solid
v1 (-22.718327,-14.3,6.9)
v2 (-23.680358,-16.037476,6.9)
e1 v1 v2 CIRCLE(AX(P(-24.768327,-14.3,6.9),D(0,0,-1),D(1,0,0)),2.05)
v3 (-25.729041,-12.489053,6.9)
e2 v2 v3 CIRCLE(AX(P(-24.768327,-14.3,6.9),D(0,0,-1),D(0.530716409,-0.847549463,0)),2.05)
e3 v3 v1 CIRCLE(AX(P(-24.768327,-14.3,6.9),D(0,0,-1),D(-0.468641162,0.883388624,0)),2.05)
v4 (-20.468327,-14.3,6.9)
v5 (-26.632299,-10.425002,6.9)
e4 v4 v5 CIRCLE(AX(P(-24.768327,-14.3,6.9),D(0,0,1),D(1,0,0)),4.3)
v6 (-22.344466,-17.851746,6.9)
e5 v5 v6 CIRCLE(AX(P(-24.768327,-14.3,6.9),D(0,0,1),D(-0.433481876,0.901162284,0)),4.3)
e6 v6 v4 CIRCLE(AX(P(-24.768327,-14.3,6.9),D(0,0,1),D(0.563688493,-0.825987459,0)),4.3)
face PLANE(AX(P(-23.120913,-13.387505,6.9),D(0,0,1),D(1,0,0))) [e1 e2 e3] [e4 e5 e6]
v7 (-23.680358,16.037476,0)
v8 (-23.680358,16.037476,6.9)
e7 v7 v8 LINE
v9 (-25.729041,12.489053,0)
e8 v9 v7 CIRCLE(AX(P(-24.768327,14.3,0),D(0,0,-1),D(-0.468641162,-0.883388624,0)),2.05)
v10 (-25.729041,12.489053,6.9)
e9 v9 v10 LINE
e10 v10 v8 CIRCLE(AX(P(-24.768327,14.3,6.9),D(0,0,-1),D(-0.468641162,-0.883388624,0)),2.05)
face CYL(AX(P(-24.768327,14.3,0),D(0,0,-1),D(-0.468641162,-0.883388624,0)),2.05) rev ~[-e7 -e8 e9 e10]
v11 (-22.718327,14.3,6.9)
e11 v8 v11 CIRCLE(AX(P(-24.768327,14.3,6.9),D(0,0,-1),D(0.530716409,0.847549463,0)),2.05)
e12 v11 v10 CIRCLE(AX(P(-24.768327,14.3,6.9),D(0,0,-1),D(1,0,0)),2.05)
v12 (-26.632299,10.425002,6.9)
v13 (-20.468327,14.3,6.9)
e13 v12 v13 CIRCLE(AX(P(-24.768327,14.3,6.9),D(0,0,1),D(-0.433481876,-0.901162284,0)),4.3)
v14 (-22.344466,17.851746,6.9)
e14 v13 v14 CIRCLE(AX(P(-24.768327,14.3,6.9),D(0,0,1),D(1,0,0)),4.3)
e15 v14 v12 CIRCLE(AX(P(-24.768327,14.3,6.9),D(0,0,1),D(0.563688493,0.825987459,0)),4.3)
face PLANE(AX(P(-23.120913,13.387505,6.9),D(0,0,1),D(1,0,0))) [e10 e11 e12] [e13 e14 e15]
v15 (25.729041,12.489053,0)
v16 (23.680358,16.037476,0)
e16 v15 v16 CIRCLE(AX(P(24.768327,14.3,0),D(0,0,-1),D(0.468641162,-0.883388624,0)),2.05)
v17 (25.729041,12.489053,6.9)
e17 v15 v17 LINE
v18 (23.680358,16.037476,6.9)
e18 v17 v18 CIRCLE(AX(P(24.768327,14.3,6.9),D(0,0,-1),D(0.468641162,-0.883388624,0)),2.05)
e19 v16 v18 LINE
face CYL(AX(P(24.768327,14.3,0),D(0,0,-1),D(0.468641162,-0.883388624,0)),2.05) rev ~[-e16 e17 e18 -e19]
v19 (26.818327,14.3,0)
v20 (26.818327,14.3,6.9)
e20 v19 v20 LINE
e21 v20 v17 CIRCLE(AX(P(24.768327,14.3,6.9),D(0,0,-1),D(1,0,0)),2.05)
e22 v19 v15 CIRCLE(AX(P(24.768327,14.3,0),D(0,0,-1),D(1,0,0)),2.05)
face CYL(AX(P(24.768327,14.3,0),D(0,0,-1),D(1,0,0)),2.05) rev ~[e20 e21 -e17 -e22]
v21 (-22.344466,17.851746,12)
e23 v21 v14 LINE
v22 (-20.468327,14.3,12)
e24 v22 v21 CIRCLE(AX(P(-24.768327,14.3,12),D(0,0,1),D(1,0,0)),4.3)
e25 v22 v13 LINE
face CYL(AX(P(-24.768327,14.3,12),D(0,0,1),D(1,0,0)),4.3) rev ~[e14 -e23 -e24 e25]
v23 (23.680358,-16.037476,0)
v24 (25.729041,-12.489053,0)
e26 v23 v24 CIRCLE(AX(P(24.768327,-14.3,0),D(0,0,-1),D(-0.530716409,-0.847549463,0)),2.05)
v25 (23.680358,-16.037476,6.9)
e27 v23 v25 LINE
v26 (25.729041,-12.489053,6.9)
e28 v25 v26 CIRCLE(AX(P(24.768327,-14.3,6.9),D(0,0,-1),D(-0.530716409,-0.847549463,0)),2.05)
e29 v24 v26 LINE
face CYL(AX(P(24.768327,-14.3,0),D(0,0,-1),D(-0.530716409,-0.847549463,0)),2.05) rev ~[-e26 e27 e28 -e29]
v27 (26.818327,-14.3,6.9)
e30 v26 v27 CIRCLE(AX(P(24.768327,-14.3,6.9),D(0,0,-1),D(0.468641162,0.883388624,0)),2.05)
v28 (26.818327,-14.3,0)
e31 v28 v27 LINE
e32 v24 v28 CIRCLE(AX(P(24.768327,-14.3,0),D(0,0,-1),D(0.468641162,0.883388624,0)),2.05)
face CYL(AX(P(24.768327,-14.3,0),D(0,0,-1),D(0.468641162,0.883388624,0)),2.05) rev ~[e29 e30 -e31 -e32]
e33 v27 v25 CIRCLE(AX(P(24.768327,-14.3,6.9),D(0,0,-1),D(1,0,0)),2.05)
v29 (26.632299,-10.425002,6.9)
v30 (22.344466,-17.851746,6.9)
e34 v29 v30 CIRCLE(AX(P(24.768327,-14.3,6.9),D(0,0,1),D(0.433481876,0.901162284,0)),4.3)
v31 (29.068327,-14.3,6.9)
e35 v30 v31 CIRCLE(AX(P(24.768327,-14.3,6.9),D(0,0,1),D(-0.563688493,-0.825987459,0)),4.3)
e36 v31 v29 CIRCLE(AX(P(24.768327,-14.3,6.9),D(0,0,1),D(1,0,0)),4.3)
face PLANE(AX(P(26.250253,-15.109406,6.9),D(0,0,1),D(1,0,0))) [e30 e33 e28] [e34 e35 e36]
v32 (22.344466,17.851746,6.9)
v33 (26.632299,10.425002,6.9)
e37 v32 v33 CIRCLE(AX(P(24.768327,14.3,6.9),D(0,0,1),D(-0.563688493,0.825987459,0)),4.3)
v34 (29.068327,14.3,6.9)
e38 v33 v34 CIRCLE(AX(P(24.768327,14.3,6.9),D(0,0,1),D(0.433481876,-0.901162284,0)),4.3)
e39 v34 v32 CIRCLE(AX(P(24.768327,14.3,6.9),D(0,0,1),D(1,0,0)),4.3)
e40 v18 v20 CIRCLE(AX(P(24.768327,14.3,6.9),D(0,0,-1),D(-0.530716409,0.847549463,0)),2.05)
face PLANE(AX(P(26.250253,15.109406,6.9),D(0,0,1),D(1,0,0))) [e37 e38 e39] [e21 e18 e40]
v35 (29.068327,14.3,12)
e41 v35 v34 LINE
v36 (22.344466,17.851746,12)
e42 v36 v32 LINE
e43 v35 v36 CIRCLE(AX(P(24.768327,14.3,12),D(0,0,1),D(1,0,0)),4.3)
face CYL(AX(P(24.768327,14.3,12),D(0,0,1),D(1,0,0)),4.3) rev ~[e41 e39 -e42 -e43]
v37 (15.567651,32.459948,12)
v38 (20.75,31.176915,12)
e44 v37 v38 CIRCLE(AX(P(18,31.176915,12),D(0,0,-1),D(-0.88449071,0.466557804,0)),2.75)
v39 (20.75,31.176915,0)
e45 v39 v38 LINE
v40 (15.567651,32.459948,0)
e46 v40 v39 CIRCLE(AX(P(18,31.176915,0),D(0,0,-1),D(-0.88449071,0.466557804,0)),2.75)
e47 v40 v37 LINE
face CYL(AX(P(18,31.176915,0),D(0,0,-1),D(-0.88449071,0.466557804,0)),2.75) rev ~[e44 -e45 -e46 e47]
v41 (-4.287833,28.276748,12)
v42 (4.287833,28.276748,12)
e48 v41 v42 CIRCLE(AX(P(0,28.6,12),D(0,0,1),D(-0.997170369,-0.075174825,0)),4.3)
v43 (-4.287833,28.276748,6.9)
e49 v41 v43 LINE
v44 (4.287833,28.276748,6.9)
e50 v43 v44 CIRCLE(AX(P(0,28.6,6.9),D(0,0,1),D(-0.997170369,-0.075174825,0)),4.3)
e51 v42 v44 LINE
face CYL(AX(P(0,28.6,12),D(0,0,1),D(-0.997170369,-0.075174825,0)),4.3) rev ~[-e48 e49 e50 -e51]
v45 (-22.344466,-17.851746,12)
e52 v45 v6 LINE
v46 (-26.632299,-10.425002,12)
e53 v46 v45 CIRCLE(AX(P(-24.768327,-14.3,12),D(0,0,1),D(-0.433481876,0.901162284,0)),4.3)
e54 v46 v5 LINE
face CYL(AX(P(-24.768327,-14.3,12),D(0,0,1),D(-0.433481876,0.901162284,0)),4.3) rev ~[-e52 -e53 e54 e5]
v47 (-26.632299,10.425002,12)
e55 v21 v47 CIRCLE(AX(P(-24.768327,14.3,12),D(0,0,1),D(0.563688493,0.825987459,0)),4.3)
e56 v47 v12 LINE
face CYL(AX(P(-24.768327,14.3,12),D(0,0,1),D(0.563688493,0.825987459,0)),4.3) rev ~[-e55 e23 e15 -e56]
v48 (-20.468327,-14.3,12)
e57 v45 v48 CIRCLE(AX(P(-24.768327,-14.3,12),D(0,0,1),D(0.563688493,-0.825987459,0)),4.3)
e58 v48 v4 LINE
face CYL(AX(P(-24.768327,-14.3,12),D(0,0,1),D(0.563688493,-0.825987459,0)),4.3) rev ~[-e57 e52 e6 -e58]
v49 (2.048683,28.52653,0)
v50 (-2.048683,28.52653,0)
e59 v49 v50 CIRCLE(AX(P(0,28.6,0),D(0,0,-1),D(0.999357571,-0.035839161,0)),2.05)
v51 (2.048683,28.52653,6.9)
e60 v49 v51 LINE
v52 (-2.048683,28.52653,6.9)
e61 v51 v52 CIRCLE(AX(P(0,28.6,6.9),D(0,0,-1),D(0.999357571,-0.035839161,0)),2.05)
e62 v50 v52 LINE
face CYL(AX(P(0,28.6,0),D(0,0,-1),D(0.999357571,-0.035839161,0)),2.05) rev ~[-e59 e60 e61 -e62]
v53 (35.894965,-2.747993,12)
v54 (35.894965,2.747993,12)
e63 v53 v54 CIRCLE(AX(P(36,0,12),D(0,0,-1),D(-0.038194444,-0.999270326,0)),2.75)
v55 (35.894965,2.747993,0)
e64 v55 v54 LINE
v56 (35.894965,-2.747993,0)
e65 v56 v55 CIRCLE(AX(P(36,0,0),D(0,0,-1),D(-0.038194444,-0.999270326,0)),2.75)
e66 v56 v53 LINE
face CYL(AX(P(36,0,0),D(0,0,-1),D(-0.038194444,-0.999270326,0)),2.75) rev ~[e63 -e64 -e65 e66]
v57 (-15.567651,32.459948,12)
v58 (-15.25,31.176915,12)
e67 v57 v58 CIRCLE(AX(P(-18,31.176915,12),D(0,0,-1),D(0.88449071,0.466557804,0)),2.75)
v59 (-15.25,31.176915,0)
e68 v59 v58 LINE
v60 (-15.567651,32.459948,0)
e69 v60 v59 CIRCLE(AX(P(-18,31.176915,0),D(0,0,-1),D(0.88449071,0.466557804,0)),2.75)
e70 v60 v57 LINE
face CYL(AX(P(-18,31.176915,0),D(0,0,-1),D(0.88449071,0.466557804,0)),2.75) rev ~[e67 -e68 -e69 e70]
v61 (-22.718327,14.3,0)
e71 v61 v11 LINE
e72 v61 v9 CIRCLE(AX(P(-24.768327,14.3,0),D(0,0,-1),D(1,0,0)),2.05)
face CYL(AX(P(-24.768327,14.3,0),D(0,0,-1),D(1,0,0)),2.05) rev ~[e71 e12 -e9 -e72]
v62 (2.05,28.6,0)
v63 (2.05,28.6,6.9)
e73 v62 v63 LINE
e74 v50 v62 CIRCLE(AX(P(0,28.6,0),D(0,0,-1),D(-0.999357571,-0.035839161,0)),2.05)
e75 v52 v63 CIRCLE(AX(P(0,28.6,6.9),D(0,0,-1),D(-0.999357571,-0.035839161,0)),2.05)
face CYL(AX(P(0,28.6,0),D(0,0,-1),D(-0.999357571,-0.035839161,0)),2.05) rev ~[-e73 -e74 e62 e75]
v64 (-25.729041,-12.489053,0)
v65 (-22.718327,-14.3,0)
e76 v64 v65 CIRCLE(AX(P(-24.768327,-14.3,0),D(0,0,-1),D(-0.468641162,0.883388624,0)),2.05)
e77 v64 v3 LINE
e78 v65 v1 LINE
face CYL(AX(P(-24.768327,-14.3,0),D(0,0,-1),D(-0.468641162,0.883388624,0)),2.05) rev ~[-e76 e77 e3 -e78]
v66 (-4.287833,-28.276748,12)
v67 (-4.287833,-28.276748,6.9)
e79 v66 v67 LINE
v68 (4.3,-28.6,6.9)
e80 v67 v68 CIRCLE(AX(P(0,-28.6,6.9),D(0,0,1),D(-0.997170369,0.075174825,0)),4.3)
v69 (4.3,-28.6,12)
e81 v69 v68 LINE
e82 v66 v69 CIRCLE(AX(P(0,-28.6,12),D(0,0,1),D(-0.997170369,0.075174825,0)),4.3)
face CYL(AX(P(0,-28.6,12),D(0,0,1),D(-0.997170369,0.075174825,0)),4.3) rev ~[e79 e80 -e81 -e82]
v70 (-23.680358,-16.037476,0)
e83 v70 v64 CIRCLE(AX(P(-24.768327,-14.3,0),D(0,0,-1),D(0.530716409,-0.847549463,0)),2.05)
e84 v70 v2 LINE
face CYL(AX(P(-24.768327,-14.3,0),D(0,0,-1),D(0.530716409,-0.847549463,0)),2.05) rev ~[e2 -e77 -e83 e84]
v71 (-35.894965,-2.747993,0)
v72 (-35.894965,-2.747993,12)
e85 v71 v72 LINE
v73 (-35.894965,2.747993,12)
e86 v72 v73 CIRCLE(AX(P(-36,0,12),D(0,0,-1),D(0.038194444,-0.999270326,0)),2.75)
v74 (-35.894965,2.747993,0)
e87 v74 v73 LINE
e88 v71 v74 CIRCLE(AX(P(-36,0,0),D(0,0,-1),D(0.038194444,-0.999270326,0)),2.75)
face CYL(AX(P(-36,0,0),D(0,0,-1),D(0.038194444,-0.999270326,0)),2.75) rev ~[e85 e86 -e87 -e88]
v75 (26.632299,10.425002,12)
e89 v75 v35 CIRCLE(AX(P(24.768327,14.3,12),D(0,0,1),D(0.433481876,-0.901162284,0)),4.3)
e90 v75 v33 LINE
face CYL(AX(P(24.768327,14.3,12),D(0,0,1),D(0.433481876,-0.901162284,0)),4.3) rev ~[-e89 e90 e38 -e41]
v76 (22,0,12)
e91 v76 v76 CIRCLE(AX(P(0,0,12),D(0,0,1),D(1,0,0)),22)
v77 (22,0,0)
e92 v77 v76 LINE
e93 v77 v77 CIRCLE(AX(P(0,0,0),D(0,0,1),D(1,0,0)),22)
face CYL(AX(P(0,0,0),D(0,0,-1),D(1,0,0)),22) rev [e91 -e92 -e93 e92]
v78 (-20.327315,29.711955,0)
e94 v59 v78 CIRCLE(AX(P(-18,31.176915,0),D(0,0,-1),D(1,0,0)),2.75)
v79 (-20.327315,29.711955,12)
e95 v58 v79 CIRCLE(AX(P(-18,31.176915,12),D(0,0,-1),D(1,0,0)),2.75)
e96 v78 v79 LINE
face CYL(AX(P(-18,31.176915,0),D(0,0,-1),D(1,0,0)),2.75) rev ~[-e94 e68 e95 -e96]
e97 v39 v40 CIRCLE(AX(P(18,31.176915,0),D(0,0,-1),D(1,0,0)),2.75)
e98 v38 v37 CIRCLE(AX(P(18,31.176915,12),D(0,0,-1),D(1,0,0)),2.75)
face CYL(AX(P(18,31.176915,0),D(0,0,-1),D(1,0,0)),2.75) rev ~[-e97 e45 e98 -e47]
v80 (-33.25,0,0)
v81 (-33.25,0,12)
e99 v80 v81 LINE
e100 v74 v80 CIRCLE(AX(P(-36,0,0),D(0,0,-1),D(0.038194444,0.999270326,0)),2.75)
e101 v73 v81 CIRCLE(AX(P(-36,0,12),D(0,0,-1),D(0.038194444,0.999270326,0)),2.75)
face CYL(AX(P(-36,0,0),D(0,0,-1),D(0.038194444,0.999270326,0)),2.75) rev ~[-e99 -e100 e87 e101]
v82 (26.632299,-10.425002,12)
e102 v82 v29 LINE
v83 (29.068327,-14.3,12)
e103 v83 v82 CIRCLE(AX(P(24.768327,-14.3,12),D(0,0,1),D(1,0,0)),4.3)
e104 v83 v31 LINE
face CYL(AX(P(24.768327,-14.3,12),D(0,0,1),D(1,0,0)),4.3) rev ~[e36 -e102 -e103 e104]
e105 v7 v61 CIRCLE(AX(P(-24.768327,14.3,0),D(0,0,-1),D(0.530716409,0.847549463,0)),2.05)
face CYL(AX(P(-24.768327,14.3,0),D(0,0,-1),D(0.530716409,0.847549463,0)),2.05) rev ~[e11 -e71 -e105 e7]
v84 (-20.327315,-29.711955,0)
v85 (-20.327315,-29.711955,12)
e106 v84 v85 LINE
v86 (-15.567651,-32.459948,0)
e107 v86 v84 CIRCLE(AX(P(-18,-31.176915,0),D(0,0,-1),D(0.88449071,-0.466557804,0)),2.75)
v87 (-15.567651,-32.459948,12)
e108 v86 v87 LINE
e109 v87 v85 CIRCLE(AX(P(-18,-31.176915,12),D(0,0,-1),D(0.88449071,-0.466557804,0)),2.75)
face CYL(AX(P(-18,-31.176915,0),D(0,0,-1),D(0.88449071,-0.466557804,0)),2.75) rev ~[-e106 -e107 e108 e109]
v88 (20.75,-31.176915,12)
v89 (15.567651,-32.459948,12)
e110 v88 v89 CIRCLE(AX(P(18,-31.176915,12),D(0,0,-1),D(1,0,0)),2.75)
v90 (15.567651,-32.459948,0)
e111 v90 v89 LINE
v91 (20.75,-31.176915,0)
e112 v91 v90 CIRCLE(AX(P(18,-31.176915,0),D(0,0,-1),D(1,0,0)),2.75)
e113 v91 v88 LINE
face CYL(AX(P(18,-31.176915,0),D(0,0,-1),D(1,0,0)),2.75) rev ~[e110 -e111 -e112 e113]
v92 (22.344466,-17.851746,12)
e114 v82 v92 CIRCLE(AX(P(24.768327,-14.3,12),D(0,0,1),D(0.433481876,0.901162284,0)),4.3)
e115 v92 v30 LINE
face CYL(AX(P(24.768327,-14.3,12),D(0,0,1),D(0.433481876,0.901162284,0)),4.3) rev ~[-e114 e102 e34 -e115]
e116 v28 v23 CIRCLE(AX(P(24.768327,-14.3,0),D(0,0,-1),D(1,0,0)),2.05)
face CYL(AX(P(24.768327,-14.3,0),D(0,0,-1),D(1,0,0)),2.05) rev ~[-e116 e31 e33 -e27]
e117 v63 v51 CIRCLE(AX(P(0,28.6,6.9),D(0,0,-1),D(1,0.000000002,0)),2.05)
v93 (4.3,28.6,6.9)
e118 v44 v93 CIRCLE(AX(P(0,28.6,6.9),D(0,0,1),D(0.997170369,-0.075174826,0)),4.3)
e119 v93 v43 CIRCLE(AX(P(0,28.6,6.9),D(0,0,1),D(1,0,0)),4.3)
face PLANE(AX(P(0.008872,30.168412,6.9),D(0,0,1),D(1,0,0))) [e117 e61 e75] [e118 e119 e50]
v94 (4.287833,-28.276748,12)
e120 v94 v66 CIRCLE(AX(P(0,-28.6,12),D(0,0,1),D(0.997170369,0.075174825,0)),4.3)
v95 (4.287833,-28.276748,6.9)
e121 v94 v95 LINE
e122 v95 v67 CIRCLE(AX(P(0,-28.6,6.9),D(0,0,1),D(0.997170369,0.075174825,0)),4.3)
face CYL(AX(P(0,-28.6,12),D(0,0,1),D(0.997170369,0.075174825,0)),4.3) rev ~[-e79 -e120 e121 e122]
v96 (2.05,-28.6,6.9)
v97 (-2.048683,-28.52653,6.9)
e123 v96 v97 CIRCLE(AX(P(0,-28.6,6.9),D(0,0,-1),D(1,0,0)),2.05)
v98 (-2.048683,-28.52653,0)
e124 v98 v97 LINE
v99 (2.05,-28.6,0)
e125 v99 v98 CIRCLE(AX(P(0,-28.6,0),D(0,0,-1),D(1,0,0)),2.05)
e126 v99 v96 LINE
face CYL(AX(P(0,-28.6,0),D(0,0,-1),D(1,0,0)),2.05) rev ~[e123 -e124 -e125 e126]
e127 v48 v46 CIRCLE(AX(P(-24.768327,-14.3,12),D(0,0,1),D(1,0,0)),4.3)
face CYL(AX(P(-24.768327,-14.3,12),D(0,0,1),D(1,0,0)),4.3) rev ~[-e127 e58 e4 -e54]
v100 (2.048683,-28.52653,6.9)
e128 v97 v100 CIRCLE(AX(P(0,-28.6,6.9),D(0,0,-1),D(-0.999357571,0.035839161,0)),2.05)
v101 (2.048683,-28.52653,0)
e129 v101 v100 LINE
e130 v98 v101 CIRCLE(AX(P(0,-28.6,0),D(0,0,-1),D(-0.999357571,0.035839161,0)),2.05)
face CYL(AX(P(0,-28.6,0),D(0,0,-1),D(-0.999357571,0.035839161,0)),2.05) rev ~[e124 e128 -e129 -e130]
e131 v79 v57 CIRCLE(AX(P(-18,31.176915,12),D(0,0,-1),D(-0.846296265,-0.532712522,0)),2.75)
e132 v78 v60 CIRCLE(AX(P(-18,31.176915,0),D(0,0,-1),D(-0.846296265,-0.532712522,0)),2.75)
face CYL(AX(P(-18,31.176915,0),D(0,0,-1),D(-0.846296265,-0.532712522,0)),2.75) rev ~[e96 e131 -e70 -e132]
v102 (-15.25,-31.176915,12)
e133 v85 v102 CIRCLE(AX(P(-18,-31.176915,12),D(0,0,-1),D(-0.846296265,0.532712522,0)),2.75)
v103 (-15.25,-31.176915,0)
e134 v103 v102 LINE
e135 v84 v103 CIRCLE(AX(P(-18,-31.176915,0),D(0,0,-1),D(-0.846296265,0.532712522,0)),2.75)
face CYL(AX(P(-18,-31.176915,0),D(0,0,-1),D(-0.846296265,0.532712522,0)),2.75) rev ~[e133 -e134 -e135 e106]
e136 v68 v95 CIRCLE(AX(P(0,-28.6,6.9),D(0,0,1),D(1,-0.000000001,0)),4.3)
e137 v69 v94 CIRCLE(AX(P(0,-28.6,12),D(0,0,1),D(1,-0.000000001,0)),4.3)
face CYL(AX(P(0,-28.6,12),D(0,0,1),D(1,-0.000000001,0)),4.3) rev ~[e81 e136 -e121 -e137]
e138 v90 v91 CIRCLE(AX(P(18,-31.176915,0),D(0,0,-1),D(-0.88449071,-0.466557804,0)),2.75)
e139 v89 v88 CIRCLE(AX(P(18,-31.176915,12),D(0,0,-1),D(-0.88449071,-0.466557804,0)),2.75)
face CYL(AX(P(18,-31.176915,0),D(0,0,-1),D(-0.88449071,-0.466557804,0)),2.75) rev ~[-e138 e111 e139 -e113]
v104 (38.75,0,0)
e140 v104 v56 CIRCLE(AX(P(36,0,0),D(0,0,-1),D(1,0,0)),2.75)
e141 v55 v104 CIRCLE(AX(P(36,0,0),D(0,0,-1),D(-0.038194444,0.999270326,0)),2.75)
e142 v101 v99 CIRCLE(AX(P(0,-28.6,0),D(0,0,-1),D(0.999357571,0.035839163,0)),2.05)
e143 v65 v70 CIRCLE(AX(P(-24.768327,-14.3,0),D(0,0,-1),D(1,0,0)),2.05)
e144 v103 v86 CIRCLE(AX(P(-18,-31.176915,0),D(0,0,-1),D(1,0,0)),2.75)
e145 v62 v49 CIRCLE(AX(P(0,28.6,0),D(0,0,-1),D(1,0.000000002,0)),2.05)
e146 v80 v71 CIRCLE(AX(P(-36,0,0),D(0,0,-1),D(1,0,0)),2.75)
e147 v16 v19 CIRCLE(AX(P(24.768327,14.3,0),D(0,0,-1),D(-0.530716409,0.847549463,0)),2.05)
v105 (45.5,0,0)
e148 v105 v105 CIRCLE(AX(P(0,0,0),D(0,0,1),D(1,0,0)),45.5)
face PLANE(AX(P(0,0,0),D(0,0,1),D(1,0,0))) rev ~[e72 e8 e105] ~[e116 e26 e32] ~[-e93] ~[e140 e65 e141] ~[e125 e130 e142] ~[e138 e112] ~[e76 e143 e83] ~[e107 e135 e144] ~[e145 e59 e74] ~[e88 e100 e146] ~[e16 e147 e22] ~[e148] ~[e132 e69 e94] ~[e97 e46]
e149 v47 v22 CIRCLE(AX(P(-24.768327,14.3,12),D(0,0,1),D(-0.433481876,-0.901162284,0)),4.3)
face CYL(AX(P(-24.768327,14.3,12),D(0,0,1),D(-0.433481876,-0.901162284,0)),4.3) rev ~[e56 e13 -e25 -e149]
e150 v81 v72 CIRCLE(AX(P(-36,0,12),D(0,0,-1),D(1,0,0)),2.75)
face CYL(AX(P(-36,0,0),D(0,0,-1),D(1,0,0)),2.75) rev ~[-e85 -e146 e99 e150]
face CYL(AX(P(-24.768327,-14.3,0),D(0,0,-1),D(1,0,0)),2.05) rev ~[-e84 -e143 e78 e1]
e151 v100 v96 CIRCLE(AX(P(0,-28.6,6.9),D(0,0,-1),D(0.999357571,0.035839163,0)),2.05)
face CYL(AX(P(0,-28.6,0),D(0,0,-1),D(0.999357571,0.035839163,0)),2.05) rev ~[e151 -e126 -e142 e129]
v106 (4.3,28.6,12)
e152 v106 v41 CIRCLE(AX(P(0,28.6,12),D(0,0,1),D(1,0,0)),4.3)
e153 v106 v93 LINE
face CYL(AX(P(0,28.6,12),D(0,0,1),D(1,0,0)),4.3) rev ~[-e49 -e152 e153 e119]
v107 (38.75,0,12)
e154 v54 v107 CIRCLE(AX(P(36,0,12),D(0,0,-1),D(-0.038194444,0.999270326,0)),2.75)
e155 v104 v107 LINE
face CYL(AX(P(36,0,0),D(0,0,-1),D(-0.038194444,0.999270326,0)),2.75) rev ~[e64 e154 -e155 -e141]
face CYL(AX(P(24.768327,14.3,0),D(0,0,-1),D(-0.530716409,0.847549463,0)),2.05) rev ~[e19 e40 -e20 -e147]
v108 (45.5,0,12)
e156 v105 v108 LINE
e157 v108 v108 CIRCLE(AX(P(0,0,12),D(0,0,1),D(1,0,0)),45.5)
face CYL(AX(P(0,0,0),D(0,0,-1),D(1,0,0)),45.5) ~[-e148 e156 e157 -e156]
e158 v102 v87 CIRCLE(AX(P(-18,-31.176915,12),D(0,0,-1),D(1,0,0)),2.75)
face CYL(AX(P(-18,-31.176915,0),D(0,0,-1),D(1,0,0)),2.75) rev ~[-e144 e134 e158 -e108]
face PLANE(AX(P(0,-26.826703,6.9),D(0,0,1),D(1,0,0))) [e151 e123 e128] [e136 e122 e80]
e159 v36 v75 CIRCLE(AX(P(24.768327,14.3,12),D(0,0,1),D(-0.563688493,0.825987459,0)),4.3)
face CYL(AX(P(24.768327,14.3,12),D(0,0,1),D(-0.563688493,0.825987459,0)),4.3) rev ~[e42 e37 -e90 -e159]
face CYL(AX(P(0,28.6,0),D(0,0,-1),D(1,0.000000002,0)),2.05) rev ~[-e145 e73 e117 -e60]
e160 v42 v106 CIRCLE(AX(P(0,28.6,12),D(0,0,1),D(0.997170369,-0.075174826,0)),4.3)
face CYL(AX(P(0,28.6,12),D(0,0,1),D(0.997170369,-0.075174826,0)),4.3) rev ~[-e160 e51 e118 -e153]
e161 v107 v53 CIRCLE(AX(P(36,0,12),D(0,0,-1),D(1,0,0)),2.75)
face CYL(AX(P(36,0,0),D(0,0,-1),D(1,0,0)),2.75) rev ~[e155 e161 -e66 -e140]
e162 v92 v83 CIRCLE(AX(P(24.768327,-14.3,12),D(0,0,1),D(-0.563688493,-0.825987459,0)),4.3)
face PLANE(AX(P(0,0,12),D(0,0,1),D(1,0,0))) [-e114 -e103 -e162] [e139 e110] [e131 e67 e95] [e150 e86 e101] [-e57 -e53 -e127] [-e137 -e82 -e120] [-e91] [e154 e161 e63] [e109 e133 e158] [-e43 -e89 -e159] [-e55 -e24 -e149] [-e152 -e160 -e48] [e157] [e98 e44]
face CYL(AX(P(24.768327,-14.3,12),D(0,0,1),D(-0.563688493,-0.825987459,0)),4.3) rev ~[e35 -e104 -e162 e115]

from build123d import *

# Parameters (mm, degrees)
F0_R     = 45.5
F0_R_2   = 22
F1_DEPTH = 12
F3_DEPTH = 5.1


with BuildPart() as f1:
    # F0 (on Top) → F1 (new body)
    with BuildSketch(Plane.XY):
        Circle(F0_R)
        with BuildLine():
            ThreePointArc((20.3273147297, 29.7119551003), (31.1769145362, 18), (35.8949652778, 2.7479933965))
            ThreePointArc((35.8949652778, 2.7479933965), (37.907046737, 1.9813310534), (38.75, 0))
            ThreePointArc((38.75, 0), (37.907046737, -1.9813310534), (35.8949652778, -2.7479933965))
            ThreePointArc((35.8949652778, -2.7479933965), (31.1769145362, -18), (20.3273147297, -29.7119551003))
            ThreePointArc((20.3273147297, -29.7119551003), (20.6422164471, -30.4145548792), (20.75, -31.1769145362))
            ThreePointArc((20.75, -31.1769145362), (18.6608853937, -33.8463209302), (15.5676505481, -32.4599484968))
            ThreePointArc((15.5676505481, -32.4599484968), (0, -36), (-15.5676505481, -32.4599484968))
            ThreePointArc((-15.5676505481, -32.4599484968), (-19.375, -33.5584843966), (-20.3273147297, -29.7119551003))
            ThreePointArc((-20.3273147297, -29.7119551003), (-31.1769145362, -18), (-35.8949652778, -2.7479933965))
            ThreePointArc((-35.8949652778, -2.7479933965), (-38.75, 0), (-35.8949652778, 2.7479933965))
            ThreePointArc((-35.8949652778, 2.7479933965), (-31.1769145362, 18), (-20.3273147297, 29.7119551003))
            ThreePointArc((-20.3273147297, 29.7119551003), (-19.375, 33.5584843966), (-15.5676505481, 32.4599484968))
            ThreePointArc((-15.5676505481, 32.4599484968), (0, 36), (15.5676505481, 32.4599484968))
            ThreePointArc((15.5676505481, 32.4599484968), (18.6608853937, 33.8463209302), (20.75, 31.1769145362))
            ThreePointArc((20.75, 31.1769145362), (20.6422164471, 30.4145548792), (20.3273147297, 29.7119551003))
        make_face(mode=Mode.SUBTRACT)
        with BuildLine():
            ThreePointArc((35.8949652778, -2.7479933965), (33.25, 0), (35.8949652778, 2.7479933965))
            ThreePointArc((35.8949652778, 2.7479933965), (31.1769145362, 18), (20.3273147297, 29.7119551003))
            ThreePointArc((20.3273147297, 29.7119551003), (16.625, 28.7953446758), (15.5676505481, 32.4599484968))
            ThreePointArc((15.5676505481, 32.4599484968), (0, 36), (-15.5676505481, 32.4599484968))
            ThreePointArc((-15.5676505481, 32.4599484968), (-15.330593606, 31.83779993), (-15.25, 31.1769145362))
            ThreePointArc((-15.25, 31.1769145362), (-17.237640343, 28.5346980891), (-20.3273147297, 29.7119551003))
            ThreePointArc((-20.3273147297, 29.7119551003), (-31.1769145362, 18), (-35.8949652778, 2.7479933965))
            ThreePointArc((-35.8949652778, 2.7479933965), (-34.0186689466, 1.907046737), (-33.25, 0))
            ThreePointArc((-33.25, 0), (-34.0186689466, -1.907046737), (-35.8949652778, -2.7479933965))
            ThreePointArc((-35.8949652778, -2.7479933965), (-31.1769145362, -18), (-20.3273147297, -29.7119551003))
            ThreePointArc((-20.3273147297, -29.7119551003), (-17.237640343, -28.5346980891), (-15.25, -31.1769145362))
            ThreePointArc((-15.25, -31.1769145362), (-15.330593606, -31.83779993), (-15.5676505481, -32.4599484968))
            ThreePointArc((-15.5676505481, -32.4599484968), (0, -36), (15.5676505481, -32.4599484968))
            ThreePointArc((15.5676505481, -32.4599484968), (16.625, -28.7953446758), (20.3273147297, -29.7119551003))
            ThreePointArc((20.3273147297, -29.7119551003), (31.1769145362, -18), (35.8949652778, -2.7479933965))
        make_face()
        with BuildLine():
            ThreePointArc((25.7290409298, 12.4890533202), (27.8730207422, 6.4073953136), (28.6, 0))
            ThreePointArc((28.6, 0), (27.8730207422, -6.4073953136), (25.7290409298, -12.4890533202))
            ThreePointArc((25.7290409298, -12.4890533202), (26.525022948, -13.2433459606), (26.8183265482, -14.3))
            ThreePointArc((26.8183265482, -14.3), (25.7613432375, -16.093437441), (23.6803579094, -16.0374764001))
            ThreePointArc((23.6803579094, -16.0374764001), (14.3, -24.7683265482), (2.0486830204, -28.5265297203))
            ThreePointArc((2.0486830204, -28.5265297203), (2.0496707287, -28.5632589588), (2.05, -28.6))
            ThreePointArc((2.05, -28.6), (-0.0367410412, -30.6496707287), (-2.0486830204, -28.5265297203))
            ThreePointArc((-2.0486830204, -28.5265297203), (-14.3, -24.7683265482), (-23.6803579094, -16.0374764001))
            ThreePointArc((-23.6803579094, -16.0374764001), (-26.543678626, -15.325), (-25.7290409298, -12.4890533202))
            ThreePointArc((-25.7290409298, -12.4890533202), (-28.6, 0), (-25.7290409298, 12.4890533202))
            ThreePointArc((-25.7290409298, 12.4890533202), (-26.543678626, 15.325), (-23.6803579094, 16.0374764001))
            ThreePointArc((-23.6803579094, 16.0374764001), (-14.3, 24.7683265482), (-2.0486830204, 28.5265297203))
            ThreePointArc((-2.0486830204, 28.5265297203), (-0.0367410412, 30.6496707287), (2.05, 28.6))
            ThreePointArc((2.05, 28.6), (2.0496707287, 28.5632589588), (2.0486830204, 28.5265297203))
            ThreePointArc((2.0486830204, 28.5265297203), (14.3, 24.7683265482), (23.6803579094, 16.0374764001))
            ThreePointArc((23.6803579094, 16.0374764001), (25.7613432375, 16.093437441), (26.8183265482, 14.3))
            ThreePointArc((26.8183265482, 14.3), (26.525022948, 13.2433459606), (25.7290409298, 12.4890533202))
        make_face(mode=Mode.SUBTRACT)
        with BuildLine():
            ThreePointArc((25.7290409298, -12.4890533202), (27.8730207422, -6.4073953136), (28.6, 0))
            ThreePointArc((28.6, 0), (27.8730207422, 6.4073953136), (25.7290409298, 12.4890533202))
            ThreePointArc((25.7290409298, 12.4890533202), (22.9929744705, 13.275), (23.6803579094, 16.0374764001))
            ThreePointArc((23.6803579094, 16.0374764001), (14.3, 24.7683265482), (2.0486830204, 28.5265297203))
            ThreePointArc((2.0486830204, 28.5265297203), (0, 26.55), (-2.0486830204, 28.5265297203))
            ThreePointArc((-2.0486830204, 28.5265297203), (-14.3, 24.7683265482), (-23.6803579094, 16.0374764001))
            ThreePointArc((-23.6803579094, 16.0374764001), (-22.9748891072, 15.2930166893), (-22.7183265482, 14.3))
            ThreePointArc((-22.7183265482, 14.3), (-23.7116725089, 12.5433036002), (-25.7290409298, 12.4890533202))
            ThreePointArc((-25.7290409298, 12.4890533202), (-28.6, 0), (-25.7290409298, -12.4890533202))
            ThreePointArc((-25.7290409298, -12.4890533202), (-23.7116725089, -12.5433036002), (-22.7183265482, -14.3))
            ThreePointArc((-22.7183265482, -14.3), (-22.9748891072, -15.2930166893), (-23.6803579094, -16.0374764001))
            ThreePointArc((-23.6803579094, -16.0374764001), (-14.3, -24.7683265482), (-2.0486830204, -28.5265297203))
            ThreePointArc((-2.0486830204, -28.5265297203), (0, -26.55), (2.0486830204, -28.5265297203))
            ThreePointArc((2.0486830204, -28.5265297203), (14.3, -24.7683265482), (23.6803579094, -16.0374764001))
            ThreePointArc((23.6803579094, -16.0374764001), (22.9929744705, -13.275), (25.7290409298, -12.4890533202))
        make_face()
        Circle(F0_R_2, mode=Mode.SUBTRACT)
    extrude(amount=F1_DEPTH)

    # F2 (on face) → F3 (cut)
    with BuildSketch(Plane.XY.offset(12)):
        with BuildLine():
            ThreePointArc((-20.4683265482, 14.3), (-20.9661824008, 16.3084072998), (-22.3444660282, 17.8517460747))
            ThreePointArc((-22.3444660282, 17.8517460747), (-23.0302843715, 16.957771132), (-23.6803579094, 16.0374764001))
            ThreePointArc((-23.6803579094, 16.0374764001), (-22.9748891072, 15.2930166893), (-22.7183265482, 14.3))
            ThreePointArc((-22.7183265482, 14.3), (-23.7116725089, 12.5433036002), (-25.7290409298, 12.4890533202))
            ThreePointArc((-25.7290409298, 12.4890533202), (-26.2010027777, 11.4659257561), (-26.6322986167, 10.425002177))
            ThreePointArc((-26.6322986167, 10.425002177), (-22.4797767776, 10.6595961835), (-20.4683265482, 14.3))
        make_face()
        with BuildLine():
            ThreePointArc((-23.6803579094, 16.0374764001), (-23.0302843715, 16.957771132), (-22.3444660282, 17.8517460747))
            ThreePointArc((-22.3444660282, 17.8517460747), (-28.4922357845, 16.45), (-26.6322986167, 10.425002177))
            ThreePointArc((-26.6322986167, 10.425002177), (-26.2010027777, 11.4659257561), (-25.7290409298, 12.4890533202))
            ThreePointArc((-25.7290409298, 12.4890533202), (-26.543678626, 15.325), (-23.6803579094, 16.0374764001))
        make_face()
        with BuildLine():
            ThreePointArc((2.0486830204, 28.5265297203), (3.1707184061, 28.4236968881), (4.2878325885, 28.2767482517))
            ThreePointArc((4.2878325885, 28.2767482517), (4.2969570705, 28.438259669), (4.3, 28.6))
            ThreePointArc((4.3, 28.6), (-0.161740331, 32.8969570705), (-4.2878325885, 28.2767482517))
            ThreePointArc((-4.2878325885, 28.2767482517), (-3.1707184061, 28.4236968881), (-2.0486830204, 28.5265297203))
            ThreePointArc((-2.0486830204, 28.5265297203), (-0.0367410412, 30.6496707287), (2.05, 28.6))
            ThreePointArc((2.05, 28.6), (2.0496707287, 28.5632589588), (2.0486830204, 28.5265297203))
        make_face()
        with BuildLine():
            ThreePointArc((-4.2878325885, 28.2767482517), (0, 24.3), (4.2878325885, 28.2767482517))
            ThreePointArc((4.2878325885, 28.2767482517), (3.1707184061, 28.4236968881), (2.0486830204, 28.5265297203))
            ThreePointArc((2.0486830204, 28.5265297203), (0, 26.55), (-2.0486830204, 28.5265297203))
            ThreePointArc((-2.0486830204, 28.5265297203), (-3.1707184061, 28.4236968881), (-4.2878325885, 28.2767482517))
        make_face()
        with BuildLine():
            ThreePointArc((25.7290409298, 12.4890533202), (26.2010027777, 11.4659257561), (26.6322986167, 10.425002177))
            ThreePointArc((26.6322986167, 10.425002177), (28.4087303647, 12.0114502293), (29.0683265482, 14.3))
            ThreePointArc((29.0683265482, 14.3), (26.776733848, 18.1021441475), (22.3444660282, 17.8517460747))
            ThreePointArc((22.3444660282, 17.8517460747), (23.0302843715, 16.957771132), (23.6803579094, 16.0374764001))
            ThreePointArc((23.6803579094, 16.0374764001), (25.7613432375, 16.093437441), (26.8183265482, 14.3))
            ThreePointArc((26.8183265482, 14.3), (26.525022948, 13.2433459606), (25.7290409298, 12.4890533202))
        make_face()
        with BuildLine():
            ThreePointArc((22.3444660282, 17.8517460747), (21.044417312, 12.15), (26.6322986167, 10.425002177))
            ThreePointArc((26.6322986167, 10.425002177), (26.2010027777, 11.4659257561), (25.7290409298, 12.4890533202))
            ThreePointArc((25.7290409298, 12.4890533202), (22.9929744705, 13.275), (23.6803579094, 16.0374764001))
            ThreePointArc((23.6803579094, 16.0374764001), (23.0302843715, 16.957771132), (22.3444660282, 17.8517460747))
        make_face()
        with BuildLine():
            ThreePointArc((29.0683265482, -14.3), (28.4087303647, -12.0114502293), (26.6322986167, -10.425002177))
            ThreePointArc((26.6322986167, -10.425002177), (26.2010027777, -11.4659257561), (25.7290409298, -12.4890533202))
            ThreePointArc((25.7290409298, -12.4890533202), (26.525022948, -13.2433459606), (26.8183265482, -14.3))
            ThreePointArc((26.8183265482, -14.3), (25.7613432375, -16.093437441), (23.6803579094, -16.0374764001))
            ThreePointArc((23.6803579094, -16.0374764001), (23.0302843715, -16.957771132), (22.3444660282, -17.8517460747))
            ThreePointArc((22.3444660282, -17.8517460747), (26.776733848, -18.1021441475), (29.0683265482, -14.3))
        make_face()
        with BuildLine():
            ThreePointArc((25.7290409298, -12.4890533202), (26.2010027777, -11.4659257561), (26.6322986167, -10.425002177))
            ThreePointArc((26.6322986167, -10.425002177), (21.044417312, -12.15), (22.3444660282, -17.8517460747))
            ThreePointArc((22.3444660282, -17.8517460747), (23.0302843715, -16.957771132), (23.6803579094, -16.0374764001))
            ThreePointArc((23.6803579094, -16.0374764001), (22.9929744705, -13.275), (25.7290409298, -12.4890533202))
        make_face()
        with BuildLine():
            ThreePointArc((2.0486830204, -28.5265297203), (3.1707184061, -28.4236968881), (4.2878325885, -28.2767482517))
            ThreePointArc((4.2878325885, -28.2767482517), (0, -24.3), (-4.2878325885, -28.2767482517))
            ThreePointArc((-4.2878325885, -28.2767482517), (-3.1707184061, -28.4236968881), (-2.0486830204, -28.5265297203))
            ThreePointArc((-2.0486830204, -28.5265297203), (0, -26.55), (2.0486830204, -28.5265297203))
        make_face()
        with BuildLine():
            ThreePointArc((4.3, -28.6), (4.2969570705, -28.438259669), (4.2878325885, -28.2767482517))
            ThreePointArc((4.2878325885, -28.2767482517), (3.1707184061, -28.4236968881), (2.0486830204, -28.5265297203))
            ThreePointArc((2.0486830204, -28.5265297203), (2.0496707287, -28.5632589588), (2.05, -28.6))
            ThreePointArc((2.05, -28.6), (-0.0367410412, -30.6496707287), (-2.0486830204, -28.5265297203))
            ThreePointArc((-2.0486830204, -28.5265297203), (-3.1707184061, -28.4236968881), (-4.2878325885, -28.2767482517))
            ThreePointArc((-4.2878325885, -28.2767482517), (-0.161740331, -32.8969570705), (4.3, -28.6))
        make_face()
        with BuildLine():
            ThreePointArc((-23.6803579094, -16.0374764001), (-23.0302843715, -16.957771132), (-22.3444660282, -17.8517460747))
            ThreePointArc((-22.3444660282, -17.8517460747), (-20.9661824008, -16.3084072998), (-20.4683265482, -14.3))
            ThreePointArc((-20.4683265482, -14.3), (-22.4797767776, -10.6595961835), (-26.6322986167, -10.425002177))
            ThreePointArc((-26.6322986167, -10.425002177), (-26.2010027777, -11.4659257561), (-25.7290409298, -12.4890533202))
            ThreePointArc((-25.7290409298, -12.4890533202), (-23.7116725089, -12.5433036002), (-22.7183265482, -14.3))
            ThreePointArc((-22.7183265482, -14.3), (-22.9748891072, -15.2930166893), (-23.6803579094, -16.0374764001))
        make_face()
        with BuildLine():
            ThreePointArc((-26.6322986167, -10.425002177), (-28.4922357845, -16.45), (-22.3444660282, -17.8517460747))
            ThreePointArc((-22.3444660282, -17.8517460747), (-23.0302843715, -16.957771132), (-23.6803579094, -16.0374764001))
            ThreePointArc((-23.6803579094, -16.0374764001), (-26.543678626, -15.325), (-25.7290409298, -12.4890533202))
            ThreePointArc((-25.7290409298, -12.4890533202), (-26.2010027777, -11.4659257561), (-26.6322986167, -10.425002177))
        make_face()
    extrude(amount=-F3_DEPTH, mode=Mode.SUBTRACT)


solid = f1.part
